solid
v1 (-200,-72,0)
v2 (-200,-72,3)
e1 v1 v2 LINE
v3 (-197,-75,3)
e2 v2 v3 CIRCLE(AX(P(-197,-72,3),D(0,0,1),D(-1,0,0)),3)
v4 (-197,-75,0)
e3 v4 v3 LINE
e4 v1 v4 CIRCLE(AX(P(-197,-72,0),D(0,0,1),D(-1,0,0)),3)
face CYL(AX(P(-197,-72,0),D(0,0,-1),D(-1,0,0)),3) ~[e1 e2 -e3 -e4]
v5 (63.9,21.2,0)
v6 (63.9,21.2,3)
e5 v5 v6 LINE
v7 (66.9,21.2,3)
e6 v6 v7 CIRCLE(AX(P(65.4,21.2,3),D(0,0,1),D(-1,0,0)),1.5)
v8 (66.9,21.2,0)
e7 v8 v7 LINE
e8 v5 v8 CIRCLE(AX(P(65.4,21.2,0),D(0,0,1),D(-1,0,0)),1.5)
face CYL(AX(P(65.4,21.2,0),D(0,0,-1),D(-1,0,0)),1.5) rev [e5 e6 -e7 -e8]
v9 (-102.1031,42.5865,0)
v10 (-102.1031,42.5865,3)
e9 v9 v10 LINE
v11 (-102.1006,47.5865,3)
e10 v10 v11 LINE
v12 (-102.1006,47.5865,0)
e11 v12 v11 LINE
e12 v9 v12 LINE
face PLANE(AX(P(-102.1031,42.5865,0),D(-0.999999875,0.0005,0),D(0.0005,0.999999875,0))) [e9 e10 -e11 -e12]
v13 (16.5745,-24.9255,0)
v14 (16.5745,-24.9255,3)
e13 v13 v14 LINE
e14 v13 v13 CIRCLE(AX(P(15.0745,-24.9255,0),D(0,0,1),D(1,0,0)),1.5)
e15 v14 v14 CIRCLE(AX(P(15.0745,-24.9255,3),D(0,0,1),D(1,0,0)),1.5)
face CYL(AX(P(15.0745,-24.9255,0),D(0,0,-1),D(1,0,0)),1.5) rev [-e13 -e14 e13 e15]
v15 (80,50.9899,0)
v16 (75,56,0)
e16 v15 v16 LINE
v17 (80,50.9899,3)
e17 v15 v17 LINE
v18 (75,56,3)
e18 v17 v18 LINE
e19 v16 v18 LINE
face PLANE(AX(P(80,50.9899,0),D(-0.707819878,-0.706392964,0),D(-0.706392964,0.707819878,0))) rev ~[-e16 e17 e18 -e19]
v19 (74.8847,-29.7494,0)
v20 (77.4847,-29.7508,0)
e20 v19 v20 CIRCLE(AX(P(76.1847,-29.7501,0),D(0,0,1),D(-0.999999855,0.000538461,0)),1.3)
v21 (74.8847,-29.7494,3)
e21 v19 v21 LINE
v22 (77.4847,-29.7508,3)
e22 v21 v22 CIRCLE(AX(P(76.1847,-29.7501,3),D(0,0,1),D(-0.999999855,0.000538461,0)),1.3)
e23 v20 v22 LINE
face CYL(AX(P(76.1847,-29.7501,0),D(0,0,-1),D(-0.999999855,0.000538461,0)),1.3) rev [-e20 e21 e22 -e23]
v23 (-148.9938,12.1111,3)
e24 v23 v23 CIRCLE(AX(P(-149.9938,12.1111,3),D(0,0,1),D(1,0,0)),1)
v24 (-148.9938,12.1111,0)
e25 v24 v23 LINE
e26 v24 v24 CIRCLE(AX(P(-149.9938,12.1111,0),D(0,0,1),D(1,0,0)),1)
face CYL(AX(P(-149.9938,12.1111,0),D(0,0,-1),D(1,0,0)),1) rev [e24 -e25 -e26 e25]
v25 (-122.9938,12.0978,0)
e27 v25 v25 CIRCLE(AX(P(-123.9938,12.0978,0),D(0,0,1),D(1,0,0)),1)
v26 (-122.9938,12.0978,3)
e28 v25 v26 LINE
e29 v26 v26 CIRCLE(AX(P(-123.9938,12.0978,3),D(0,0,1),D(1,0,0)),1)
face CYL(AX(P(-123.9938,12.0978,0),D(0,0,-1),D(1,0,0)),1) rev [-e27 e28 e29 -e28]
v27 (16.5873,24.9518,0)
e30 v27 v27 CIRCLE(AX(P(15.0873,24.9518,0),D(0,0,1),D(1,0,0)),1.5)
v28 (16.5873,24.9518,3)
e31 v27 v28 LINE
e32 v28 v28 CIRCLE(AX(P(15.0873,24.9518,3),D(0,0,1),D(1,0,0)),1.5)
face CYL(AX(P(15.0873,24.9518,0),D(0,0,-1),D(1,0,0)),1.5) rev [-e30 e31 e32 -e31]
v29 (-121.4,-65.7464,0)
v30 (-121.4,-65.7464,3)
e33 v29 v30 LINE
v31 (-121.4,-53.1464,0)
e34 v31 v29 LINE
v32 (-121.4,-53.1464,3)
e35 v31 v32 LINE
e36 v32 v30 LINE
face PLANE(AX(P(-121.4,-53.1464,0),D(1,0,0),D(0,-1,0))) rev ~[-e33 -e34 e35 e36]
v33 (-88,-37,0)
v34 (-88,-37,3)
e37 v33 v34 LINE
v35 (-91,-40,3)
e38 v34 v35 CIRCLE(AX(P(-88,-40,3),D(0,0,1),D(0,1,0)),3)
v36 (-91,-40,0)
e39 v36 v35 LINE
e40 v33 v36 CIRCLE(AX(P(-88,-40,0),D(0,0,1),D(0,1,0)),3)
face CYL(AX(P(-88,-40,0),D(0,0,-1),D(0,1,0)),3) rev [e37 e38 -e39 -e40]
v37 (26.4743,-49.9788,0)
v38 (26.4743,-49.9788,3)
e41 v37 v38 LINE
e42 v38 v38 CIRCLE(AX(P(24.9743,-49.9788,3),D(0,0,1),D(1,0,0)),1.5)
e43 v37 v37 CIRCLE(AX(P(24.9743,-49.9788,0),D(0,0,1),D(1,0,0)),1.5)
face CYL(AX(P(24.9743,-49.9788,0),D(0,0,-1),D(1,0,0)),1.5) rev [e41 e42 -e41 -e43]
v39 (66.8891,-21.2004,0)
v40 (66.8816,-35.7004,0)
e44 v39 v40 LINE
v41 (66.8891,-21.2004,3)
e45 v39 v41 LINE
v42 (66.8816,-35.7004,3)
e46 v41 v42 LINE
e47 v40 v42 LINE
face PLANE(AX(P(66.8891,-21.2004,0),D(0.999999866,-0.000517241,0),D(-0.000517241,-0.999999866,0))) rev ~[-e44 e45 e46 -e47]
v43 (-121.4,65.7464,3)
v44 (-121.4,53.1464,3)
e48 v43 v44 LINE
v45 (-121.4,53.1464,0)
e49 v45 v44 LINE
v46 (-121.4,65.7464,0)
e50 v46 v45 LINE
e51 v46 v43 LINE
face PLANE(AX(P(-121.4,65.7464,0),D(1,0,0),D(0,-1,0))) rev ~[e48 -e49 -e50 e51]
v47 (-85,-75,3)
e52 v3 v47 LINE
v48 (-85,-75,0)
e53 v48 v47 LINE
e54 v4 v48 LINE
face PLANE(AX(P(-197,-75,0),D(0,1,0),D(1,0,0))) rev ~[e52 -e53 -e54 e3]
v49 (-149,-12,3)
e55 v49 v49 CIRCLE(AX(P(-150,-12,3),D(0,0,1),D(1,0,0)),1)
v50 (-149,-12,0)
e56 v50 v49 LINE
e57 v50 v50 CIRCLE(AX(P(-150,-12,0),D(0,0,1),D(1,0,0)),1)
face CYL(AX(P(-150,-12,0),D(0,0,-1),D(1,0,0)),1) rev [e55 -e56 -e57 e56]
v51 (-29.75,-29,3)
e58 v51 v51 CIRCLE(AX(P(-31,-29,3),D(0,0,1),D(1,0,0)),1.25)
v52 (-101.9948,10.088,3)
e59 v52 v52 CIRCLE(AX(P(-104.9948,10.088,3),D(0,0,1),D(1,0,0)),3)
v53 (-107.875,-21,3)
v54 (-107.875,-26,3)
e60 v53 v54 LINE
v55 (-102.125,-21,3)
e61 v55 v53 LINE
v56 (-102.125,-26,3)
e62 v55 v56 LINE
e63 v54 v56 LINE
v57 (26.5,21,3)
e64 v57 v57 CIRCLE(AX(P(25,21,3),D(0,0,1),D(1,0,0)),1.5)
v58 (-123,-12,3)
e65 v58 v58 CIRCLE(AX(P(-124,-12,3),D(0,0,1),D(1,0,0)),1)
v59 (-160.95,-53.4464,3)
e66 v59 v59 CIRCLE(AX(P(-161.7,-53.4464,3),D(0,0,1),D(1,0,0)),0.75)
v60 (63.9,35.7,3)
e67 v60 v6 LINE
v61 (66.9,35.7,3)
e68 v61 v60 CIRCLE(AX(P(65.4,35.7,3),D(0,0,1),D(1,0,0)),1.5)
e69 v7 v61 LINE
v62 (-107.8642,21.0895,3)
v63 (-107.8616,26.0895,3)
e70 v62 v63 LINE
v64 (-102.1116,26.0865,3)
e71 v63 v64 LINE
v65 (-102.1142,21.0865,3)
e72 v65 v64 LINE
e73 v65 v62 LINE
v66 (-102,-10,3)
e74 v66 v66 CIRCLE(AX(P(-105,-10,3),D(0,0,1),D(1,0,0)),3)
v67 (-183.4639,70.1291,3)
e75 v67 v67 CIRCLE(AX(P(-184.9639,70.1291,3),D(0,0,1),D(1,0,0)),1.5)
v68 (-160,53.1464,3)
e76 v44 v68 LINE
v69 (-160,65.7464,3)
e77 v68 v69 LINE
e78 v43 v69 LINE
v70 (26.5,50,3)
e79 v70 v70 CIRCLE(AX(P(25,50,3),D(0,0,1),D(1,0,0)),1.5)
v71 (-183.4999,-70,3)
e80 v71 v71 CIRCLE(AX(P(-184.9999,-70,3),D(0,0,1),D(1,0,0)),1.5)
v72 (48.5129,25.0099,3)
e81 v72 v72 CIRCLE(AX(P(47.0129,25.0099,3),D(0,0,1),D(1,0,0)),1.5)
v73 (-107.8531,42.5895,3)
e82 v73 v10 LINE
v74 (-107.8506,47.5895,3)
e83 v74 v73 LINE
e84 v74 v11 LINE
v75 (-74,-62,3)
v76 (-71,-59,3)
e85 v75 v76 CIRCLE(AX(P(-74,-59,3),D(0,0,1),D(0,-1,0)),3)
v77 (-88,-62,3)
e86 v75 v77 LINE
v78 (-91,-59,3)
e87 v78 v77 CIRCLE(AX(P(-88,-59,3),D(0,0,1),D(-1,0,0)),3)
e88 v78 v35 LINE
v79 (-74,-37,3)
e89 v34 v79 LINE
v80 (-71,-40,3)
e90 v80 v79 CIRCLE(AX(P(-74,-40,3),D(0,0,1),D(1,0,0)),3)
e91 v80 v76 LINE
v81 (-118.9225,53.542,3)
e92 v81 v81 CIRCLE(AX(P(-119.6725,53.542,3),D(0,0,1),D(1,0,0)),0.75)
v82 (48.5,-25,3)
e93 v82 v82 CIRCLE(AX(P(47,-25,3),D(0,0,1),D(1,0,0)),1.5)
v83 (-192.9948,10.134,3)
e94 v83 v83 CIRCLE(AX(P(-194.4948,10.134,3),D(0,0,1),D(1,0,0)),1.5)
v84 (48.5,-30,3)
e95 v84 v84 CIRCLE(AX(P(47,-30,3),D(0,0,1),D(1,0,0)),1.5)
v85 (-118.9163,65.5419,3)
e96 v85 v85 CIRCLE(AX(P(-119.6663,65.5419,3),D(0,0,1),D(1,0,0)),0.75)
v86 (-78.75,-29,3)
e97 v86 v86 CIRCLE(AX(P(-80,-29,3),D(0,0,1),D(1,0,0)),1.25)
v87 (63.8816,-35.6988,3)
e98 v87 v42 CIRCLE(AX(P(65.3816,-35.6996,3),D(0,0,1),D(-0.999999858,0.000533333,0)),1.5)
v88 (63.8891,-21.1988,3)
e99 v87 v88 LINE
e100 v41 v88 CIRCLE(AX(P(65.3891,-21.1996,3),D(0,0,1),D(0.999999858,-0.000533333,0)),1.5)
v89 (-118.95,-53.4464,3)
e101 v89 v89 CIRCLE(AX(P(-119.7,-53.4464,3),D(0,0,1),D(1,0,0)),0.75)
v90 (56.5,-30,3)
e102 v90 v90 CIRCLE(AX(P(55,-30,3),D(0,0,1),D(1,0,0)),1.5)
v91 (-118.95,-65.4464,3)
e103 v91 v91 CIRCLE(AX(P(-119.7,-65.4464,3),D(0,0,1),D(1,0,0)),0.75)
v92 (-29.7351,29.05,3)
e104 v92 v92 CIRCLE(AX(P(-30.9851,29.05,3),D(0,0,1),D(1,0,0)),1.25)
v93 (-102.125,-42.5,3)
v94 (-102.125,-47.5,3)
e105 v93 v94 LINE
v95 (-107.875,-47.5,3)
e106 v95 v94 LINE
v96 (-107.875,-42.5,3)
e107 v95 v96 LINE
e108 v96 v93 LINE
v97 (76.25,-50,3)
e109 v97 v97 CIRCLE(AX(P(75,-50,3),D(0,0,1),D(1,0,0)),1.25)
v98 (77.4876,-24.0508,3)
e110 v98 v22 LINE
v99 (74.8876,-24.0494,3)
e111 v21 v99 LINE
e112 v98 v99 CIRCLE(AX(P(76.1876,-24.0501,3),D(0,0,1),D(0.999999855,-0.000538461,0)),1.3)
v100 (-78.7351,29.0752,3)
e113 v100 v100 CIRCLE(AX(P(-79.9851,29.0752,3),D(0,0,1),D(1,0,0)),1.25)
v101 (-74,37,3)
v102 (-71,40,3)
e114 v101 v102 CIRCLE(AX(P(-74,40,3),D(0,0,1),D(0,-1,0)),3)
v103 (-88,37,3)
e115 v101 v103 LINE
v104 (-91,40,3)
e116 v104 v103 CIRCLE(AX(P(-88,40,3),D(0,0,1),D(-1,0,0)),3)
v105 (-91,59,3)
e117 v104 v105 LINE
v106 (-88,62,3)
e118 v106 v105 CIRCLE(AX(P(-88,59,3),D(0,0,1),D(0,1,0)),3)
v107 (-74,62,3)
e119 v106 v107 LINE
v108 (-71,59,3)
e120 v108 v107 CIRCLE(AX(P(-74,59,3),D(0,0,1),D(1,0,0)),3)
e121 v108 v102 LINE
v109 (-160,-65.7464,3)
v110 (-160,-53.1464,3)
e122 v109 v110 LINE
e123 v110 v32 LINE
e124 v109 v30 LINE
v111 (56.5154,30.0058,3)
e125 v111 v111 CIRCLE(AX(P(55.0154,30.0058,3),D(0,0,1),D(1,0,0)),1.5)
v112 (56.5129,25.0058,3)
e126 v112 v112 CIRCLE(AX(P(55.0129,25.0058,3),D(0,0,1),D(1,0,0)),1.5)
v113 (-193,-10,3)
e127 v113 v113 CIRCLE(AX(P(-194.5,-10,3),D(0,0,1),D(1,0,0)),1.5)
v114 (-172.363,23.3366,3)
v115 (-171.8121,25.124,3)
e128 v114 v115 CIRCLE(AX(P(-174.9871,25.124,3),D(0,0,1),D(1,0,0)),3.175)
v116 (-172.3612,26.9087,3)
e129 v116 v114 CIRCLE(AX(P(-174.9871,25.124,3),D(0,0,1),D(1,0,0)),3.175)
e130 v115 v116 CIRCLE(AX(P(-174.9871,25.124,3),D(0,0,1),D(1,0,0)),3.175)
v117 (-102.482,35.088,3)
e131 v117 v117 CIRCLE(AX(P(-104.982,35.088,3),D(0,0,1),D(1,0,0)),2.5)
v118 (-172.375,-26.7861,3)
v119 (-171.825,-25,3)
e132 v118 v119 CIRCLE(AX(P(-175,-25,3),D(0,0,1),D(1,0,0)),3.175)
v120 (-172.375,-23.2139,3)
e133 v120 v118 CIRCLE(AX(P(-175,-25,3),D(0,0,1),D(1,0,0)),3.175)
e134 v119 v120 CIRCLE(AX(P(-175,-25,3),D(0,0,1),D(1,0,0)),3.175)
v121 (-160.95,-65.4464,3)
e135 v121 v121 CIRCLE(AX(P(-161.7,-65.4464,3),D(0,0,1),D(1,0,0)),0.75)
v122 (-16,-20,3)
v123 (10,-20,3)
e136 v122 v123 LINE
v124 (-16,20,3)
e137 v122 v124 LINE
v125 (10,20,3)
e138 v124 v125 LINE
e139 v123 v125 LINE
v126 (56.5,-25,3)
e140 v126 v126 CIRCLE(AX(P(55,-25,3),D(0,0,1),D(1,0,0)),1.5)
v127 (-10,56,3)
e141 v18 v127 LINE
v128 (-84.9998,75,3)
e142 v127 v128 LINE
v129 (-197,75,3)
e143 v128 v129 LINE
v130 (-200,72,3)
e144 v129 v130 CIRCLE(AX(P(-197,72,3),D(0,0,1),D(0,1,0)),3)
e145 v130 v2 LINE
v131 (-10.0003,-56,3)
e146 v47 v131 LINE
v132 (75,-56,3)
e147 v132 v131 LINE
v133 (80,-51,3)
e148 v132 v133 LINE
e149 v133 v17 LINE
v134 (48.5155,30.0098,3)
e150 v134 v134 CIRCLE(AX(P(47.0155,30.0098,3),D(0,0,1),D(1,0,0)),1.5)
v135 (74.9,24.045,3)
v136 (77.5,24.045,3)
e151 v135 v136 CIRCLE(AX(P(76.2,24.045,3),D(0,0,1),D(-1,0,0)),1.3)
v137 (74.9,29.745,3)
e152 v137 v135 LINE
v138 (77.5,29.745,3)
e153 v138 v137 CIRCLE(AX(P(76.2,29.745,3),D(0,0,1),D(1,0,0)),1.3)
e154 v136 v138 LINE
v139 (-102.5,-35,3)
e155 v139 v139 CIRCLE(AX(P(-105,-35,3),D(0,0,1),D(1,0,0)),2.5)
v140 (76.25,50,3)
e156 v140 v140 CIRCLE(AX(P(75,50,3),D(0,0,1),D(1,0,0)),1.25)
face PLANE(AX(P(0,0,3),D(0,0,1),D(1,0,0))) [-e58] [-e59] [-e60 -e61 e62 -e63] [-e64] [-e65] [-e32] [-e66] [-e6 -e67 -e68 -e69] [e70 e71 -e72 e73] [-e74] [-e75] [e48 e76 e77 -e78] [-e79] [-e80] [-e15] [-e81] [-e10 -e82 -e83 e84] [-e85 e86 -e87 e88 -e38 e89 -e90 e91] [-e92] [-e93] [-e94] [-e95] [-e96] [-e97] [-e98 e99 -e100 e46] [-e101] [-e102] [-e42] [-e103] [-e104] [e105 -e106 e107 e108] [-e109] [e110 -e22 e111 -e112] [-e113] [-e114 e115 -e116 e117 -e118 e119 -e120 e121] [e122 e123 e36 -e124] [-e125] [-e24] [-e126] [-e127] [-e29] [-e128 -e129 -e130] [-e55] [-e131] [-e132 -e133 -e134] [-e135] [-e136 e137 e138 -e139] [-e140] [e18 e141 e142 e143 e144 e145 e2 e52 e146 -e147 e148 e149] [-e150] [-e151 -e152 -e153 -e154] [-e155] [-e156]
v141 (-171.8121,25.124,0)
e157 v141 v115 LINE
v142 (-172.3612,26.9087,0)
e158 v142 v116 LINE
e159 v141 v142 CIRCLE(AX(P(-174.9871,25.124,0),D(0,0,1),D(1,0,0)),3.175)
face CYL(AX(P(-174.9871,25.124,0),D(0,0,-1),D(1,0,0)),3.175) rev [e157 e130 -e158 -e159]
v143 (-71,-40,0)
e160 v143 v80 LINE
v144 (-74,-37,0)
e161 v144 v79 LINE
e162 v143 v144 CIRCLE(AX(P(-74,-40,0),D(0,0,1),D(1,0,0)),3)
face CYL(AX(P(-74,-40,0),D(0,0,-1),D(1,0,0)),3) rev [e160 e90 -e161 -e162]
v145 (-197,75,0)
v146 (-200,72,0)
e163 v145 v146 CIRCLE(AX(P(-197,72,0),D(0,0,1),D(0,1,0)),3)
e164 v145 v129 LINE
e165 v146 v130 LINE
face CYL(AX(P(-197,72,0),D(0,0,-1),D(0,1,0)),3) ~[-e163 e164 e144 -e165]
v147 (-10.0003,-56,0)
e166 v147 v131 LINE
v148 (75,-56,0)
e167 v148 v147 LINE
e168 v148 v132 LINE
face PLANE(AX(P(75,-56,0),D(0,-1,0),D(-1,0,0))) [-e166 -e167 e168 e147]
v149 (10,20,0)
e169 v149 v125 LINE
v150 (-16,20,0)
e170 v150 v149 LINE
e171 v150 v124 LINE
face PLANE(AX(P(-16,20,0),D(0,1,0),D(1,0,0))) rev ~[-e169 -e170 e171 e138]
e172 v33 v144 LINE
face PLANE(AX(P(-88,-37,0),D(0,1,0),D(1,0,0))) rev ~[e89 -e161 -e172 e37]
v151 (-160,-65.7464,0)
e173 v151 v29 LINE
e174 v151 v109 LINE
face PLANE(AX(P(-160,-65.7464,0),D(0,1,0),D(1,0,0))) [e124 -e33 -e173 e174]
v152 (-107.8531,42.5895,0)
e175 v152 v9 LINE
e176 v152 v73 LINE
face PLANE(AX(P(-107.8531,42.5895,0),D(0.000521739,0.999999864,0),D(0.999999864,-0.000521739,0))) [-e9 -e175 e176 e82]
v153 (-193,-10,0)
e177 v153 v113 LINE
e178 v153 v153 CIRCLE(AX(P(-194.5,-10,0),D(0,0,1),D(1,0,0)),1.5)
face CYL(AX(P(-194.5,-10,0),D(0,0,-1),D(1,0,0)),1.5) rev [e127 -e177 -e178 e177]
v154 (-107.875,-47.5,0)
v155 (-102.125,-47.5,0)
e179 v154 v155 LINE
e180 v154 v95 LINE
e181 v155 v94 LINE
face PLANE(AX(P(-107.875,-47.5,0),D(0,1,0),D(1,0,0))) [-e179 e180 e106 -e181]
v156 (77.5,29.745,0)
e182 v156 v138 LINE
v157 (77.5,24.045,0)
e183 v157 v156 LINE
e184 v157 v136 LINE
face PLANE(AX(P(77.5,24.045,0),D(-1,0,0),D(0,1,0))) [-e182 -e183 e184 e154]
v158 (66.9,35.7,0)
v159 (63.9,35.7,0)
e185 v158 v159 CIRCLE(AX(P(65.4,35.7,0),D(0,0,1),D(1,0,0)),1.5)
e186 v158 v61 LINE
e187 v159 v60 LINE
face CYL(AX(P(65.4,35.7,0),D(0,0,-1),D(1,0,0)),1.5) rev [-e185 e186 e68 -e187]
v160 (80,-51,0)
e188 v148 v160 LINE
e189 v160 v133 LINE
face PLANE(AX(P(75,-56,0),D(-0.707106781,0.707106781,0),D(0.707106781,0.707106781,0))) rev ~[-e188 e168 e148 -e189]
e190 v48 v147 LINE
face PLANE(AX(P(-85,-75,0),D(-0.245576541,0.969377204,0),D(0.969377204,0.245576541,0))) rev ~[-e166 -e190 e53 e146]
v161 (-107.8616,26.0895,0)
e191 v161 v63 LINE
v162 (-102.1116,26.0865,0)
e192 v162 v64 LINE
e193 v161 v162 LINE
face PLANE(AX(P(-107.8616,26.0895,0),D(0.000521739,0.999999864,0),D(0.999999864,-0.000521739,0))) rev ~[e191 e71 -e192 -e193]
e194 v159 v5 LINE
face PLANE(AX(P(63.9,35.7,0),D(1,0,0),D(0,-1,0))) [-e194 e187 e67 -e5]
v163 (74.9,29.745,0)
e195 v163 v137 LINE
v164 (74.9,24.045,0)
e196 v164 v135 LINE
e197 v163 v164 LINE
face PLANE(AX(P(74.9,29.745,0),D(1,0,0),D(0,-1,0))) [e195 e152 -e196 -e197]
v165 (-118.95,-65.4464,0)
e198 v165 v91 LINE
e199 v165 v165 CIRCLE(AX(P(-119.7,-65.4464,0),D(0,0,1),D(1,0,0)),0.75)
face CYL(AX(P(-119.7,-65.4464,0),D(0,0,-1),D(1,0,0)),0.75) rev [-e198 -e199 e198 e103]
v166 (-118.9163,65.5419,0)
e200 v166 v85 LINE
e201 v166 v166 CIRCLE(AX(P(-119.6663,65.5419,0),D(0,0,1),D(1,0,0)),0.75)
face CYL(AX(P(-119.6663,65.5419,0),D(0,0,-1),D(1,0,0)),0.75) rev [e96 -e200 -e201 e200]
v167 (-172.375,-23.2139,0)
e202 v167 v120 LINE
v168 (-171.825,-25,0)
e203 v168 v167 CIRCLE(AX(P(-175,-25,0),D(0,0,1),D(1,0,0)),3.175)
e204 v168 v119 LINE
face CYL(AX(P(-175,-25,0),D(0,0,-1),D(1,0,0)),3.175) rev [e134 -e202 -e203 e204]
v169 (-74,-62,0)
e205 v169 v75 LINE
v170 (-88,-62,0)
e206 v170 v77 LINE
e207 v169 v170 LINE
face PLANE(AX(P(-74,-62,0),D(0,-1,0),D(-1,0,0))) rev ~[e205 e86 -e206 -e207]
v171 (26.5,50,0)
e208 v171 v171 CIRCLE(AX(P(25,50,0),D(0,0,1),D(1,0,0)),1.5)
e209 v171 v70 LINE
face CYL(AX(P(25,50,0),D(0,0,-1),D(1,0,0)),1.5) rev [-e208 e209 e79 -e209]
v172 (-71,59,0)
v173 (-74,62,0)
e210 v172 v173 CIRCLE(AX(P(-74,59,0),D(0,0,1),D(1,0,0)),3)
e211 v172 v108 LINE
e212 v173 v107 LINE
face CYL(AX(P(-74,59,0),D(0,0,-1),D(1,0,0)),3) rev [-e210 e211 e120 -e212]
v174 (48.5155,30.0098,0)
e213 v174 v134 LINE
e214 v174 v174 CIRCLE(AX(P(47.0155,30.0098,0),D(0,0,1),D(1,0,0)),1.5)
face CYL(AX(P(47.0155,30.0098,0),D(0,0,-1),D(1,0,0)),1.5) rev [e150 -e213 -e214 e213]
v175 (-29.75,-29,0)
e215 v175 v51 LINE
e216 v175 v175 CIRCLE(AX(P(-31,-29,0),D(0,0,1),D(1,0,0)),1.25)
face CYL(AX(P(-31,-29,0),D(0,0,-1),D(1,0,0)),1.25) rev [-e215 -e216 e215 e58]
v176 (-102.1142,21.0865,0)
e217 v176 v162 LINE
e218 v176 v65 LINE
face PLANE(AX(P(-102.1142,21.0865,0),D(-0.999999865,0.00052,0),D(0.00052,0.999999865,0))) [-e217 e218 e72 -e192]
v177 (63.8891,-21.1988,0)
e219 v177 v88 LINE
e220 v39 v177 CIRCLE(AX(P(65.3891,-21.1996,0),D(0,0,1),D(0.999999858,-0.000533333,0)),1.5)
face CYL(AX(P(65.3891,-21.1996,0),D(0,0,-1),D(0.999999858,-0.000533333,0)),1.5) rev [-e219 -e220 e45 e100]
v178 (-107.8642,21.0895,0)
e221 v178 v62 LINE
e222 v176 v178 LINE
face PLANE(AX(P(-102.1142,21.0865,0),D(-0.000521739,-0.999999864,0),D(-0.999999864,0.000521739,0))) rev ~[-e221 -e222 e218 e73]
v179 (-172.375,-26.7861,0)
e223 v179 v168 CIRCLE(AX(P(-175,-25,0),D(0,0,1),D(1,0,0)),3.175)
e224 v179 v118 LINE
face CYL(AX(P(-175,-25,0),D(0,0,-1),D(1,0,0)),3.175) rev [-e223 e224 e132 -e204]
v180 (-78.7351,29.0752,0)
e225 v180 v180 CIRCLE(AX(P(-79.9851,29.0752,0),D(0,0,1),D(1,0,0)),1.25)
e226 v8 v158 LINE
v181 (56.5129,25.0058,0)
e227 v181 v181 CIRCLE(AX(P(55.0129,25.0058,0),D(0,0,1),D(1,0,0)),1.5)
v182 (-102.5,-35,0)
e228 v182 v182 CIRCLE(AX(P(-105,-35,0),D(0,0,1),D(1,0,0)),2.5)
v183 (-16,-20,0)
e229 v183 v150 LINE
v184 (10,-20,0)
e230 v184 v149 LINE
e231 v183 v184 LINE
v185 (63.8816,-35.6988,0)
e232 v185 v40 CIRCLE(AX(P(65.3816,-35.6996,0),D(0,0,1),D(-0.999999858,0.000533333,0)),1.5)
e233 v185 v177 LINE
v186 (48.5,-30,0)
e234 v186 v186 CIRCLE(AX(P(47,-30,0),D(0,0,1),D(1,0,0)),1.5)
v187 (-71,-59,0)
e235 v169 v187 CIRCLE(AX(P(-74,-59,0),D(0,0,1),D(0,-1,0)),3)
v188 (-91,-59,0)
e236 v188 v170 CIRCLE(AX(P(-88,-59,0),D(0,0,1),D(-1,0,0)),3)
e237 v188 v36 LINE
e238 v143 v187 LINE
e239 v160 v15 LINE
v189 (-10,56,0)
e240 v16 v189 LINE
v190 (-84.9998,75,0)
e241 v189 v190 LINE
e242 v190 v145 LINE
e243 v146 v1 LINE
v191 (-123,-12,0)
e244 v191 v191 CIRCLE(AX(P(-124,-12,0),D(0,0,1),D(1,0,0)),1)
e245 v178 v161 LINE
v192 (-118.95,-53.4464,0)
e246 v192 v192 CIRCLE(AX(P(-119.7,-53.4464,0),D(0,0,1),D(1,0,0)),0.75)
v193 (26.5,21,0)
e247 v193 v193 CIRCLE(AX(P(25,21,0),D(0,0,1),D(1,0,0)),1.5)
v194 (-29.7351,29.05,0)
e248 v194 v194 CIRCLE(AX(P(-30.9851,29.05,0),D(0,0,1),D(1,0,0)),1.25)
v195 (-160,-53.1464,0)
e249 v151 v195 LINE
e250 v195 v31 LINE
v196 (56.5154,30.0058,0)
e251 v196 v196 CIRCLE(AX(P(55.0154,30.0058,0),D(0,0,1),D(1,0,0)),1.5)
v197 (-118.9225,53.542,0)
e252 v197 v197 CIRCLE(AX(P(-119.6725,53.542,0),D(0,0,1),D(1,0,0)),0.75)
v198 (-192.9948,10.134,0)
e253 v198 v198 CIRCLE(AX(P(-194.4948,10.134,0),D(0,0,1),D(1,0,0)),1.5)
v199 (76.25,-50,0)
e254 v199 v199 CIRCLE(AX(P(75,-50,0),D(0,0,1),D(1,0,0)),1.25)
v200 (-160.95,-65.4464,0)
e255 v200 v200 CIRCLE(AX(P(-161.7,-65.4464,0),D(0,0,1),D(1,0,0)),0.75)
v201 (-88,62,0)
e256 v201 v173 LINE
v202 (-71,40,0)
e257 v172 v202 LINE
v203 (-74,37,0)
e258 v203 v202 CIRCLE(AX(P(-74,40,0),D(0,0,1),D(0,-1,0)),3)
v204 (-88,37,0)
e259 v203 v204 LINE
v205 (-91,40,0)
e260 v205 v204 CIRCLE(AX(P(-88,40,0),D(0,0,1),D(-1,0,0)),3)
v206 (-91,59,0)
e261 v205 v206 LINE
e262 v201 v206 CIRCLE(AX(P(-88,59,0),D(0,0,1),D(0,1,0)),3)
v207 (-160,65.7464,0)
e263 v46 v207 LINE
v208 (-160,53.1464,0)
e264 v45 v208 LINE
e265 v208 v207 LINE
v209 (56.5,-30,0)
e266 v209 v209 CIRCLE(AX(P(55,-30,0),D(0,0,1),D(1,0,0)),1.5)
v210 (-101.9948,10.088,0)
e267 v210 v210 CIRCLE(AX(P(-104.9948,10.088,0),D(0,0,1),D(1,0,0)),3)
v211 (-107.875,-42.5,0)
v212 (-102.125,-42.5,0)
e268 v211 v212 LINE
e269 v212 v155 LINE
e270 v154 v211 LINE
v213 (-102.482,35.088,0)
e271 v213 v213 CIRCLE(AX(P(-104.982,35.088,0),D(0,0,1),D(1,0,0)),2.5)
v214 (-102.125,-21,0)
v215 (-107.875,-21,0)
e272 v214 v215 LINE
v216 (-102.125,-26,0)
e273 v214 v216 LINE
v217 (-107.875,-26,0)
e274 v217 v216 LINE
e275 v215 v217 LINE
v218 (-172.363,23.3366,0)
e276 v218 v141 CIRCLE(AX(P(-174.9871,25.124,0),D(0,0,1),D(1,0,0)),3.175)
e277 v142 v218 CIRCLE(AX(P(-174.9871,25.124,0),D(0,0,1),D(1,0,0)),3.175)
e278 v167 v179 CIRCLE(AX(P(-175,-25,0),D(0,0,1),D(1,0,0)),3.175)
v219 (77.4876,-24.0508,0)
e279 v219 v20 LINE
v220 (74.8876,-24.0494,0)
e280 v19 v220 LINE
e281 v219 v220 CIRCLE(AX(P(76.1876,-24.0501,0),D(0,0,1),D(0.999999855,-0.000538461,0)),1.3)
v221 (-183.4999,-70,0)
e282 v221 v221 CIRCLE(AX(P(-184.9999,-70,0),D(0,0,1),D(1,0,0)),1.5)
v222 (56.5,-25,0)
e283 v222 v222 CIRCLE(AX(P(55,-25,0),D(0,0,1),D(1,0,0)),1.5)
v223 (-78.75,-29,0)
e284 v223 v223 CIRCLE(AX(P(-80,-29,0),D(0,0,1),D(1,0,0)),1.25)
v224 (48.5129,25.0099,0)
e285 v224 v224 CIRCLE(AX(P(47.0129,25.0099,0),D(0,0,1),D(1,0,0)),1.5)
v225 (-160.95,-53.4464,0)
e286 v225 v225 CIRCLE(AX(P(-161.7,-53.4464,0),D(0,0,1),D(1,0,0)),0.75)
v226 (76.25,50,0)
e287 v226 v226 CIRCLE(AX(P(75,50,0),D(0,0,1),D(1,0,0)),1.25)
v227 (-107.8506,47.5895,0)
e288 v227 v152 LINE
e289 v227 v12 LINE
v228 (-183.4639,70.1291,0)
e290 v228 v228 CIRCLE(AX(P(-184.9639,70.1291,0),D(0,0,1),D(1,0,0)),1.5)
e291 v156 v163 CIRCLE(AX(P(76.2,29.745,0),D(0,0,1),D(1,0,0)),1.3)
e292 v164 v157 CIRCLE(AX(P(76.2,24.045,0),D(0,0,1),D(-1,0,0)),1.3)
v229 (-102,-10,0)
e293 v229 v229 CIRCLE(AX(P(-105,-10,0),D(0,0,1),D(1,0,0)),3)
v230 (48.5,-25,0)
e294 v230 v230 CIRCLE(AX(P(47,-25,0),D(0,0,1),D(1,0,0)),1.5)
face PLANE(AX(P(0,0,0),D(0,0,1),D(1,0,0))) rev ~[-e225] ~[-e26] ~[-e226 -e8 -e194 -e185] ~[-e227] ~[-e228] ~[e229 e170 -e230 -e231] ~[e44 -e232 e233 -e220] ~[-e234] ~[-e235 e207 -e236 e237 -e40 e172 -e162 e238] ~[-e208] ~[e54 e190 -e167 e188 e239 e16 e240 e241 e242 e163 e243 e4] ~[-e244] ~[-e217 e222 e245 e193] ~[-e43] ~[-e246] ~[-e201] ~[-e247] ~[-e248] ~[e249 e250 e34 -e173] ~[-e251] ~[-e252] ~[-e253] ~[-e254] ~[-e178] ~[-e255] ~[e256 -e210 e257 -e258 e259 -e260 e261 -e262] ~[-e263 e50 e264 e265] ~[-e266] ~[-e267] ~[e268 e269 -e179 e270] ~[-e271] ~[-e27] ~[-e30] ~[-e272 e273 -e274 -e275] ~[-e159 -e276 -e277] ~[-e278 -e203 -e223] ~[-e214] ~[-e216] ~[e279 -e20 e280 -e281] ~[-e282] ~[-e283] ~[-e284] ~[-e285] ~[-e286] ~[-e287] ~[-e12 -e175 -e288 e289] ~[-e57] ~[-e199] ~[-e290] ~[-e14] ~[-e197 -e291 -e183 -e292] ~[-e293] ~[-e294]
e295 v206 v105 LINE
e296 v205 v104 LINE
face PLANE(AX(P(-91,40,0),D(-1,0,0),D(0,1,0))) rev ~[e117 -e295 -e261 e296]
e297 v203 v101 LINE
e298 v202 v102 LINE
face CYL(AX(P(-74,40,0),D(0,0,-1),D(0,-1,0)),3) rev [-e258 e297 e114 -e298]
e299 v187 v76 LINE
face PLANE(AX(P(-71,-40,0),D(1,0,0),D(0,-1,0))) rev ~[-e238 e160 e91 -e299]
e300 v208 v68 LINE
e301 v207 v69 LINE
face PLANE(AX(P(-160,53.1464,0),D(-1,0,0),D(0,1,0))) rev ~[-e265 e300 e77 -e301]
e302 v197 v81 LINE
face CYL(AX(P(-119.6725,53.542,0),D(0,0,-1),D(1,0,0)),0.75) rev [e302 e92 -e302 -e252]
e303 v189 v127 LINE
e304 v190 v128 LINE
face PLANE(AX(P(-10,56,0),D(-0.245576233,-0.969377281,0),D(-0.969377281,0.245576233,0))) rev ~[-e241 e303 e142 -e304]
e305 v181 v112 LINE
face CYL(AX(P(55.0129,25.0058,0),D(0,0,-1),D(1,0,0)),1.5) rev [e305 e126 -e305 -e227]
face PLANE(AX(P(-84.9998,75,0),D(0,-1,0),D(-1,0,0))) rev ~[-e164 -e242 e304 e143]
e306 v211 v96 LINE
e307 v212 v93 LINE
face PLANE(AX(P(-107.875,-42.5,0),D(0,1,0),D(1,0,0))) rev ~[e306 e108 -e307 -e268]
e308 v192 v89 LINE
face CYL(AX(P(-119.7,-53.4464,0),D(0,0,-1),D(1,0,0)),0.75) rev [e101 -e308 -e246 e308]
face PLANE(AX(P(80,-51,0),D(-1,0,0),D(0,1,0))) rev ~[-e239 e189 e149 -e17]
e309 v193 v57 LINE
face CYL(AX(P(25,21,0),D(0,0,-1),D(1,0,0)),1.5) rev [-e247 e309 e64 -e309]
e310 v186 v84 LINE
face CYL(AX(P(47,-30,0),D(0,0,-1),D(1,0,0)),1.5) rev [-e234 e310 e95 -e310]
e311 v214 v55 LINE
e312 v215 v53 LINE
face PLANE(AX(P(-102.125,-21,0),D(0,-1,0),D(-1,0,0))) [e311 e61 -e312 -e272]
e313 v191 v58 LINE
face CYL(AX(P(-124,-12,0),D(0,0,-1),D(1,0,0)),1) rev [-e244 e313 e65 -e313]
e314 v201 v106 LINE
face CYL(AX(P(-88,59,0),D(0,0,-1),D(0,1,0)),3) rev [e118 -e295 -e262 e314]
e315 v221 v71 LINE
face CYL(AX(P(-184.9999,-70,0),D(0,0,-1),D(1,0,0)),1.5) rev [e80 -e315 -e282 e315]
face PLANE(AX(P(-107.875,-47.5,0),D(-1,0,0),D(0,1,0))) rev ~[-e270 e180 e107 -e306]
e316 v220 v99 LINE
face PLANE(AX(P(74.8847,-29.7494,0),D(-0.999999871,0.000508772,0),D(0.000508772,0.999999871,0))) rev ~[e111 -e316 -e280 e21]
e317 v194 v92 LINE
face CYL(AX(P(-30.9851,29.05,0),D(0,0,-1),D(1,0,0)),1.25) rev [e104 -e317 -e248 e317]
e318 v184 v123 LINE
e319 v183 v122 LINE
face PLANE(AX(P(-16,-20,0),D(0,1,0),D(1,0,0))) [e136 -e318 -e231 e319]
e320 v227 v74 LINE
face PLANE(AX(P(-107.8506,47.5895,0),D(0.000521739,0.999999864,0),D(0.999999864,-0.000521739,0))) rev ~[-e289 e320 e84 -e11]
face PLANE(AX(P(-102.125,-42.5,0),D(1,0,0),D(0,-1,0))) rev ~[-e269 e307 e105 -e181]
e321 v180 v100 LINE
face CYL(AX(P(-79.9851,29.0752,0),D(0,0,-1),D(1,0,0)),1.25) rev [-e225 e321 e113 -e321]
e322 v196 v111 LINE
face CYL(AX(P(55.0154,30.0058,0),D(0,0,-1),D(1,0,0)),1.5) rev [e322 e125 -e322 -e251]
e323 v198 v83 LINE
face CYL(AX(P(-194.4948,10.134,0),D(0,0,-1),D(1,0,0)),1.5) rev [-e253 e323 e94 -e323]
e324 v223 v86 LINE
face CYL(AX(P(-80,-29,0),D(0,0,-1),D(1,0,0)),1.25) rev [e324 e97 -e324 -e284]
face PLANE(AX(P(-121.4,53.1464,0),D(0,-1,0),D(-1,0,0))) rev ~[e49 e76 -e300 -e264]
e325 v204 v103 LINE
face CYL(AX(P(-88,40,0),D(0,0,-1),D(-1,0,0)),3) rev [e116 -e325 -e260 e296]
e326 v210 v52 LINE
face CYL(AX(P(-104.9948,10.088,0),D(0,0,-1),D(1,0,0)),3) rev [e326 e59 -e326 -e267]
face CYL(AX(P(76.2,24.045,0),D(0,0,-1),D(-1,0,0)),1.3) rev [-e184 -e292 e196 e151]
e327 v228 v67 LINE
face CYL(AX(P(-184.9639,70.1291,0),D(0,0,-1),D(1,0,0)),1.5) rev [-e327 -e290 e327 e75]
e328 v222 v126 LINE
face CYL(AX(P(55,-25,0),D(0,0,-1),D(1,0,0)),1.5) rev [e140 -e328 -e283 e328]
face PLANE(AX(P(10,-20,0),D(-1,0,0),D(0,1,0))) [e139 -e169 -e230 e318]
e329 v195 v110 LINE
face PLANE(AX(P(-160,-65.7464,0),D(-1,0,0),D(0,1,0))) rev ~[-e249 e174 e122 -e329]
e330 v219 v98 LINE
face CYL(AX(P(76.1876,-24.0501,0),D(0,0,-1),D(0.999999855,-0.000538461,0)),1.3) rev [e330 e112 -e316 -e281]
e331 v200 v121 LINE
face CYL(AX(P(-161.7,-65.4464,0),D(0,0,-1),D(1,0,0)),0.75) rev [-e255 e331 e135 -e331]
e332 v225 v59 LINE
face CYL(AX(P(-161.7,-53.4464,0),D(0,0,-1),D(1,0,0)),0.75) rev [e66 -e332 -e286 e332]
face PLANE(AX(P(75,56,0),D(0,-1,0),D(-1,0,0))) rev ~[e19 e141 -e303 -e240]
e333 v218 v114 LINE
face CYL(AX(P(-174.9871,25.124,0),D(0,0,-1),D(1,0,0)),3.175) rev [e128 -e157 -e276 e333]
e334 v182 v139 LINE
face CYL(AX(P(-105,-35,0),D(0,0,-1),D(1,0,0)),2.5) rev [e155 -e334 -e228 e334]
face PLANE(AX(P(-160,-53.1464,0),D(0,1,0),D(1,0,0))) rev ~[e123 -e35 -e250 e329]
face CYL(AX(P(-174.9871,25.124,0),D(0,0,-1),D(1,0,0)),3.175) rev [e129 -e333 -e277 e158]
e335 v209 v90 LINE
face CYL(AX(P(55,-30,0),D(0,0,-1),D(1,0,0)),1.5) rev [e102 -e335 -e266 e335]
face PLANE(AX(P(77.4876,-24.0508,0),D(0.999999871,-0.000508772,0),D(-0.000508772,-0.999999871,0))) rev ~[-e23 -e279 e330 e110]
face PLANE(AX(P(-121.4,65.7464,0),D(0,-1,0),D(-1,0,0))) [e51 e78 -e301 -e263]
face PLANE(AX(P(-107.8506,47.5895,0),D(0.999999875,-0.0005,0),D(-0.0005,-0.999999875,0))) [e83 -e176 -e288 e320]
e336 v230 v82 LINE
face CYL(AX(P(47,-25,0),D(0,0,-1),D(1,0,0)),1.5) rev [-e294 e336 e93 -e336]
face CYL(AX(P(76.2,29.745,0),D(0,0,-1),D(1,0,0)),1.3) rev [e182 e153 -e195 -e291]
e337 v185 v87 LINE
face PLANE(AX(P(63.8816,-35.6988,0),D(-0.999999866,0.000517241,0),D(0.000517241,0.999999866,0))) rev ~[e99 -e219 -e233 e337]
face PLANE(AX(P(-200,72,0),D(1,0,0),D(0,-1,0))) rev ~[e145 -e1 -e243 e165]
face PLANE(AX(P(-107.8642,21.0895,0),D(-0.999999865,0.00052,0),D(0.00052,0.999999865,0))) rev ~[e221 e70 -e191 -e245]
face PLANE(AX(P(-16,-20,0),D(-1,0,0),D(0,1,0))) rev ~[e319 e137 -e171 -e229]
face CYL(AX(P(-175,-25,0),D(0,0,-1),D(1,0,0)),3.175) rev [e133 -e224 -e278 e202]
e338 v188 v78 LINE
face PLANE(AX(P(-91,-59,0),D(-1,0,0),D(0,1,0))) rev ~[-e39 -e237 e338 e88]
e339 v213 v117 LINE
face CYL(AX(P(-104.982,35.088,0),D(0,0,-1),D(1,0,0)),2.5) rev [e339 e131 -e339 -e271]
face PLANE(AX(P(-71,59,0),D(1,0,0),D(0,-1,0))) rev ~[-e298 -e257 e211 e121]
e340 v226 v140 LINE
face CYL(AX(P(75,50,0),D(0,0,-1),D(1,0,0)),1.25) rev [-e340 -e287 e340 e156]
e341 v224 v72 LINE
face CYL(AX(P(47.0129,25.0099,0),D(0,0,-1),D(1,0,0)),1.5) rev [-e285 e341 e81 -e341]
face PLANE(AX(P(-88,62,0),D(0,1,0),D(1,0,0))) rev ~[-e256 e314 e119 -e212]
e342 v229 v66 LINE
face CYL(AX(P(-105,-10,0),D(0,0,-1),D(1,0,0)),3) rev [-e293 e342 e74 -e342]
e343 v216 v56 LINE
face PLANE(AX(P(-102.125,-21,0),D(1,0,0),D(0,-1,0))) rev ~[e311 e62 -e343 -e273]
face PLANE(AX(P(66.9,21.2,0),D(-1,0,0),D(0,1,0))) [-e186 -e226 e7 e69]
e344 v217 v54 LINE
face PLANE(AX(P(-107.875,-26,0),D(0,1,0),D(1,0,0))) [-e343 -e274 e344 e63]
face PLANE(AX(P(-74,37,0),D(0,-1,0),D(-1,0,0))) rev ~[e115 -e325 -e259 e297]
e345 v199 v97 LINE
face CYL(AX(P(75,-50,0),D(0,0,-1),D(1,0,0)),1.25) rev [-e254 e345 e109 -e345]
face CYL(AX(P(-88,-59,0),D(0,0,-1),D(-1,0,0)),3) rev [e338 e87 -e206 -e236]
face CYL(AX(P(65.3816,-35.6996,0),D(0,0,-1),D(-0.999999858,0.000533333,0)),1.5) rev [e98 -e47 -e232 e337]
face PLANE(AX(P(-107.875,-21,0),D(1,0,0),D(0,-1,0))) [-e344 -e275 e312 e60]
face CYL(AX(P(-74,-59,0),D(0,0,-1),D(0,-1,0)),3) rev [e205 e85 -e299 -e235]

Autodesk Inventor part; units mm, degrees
ref_plane "YZ Plane" through (0, 0, 0) normal (1, 0, 0) x (0, 1, 0)
ref_plane "XZ Plane" through (0, 0, 0) normal (0, 1, 0) x (-1, 0, 0)
ref_plane "XY Plane" through (0, 0, 0) normal (0, 0, 1) x (1, 0, 0)
sketch "Boceto1" plane through (0, 0, 0) normal (0, 0, 1) x (1, 0, 0)
  line L0 (-200, -75) -> (-85, -75)
  line L1 (-85, -75) -> (-10.0003, -56)
  line L2 (-200, 75) -> (-200, -75)
  line L3 (-84.9998, 75) -> (-200, 75)
  line L4 (75, -56) -> (-10.0003, -56)
  line L5 (80, -51) -> (80, 50.9899)
  line L6 (75, -56) -> (80, -51)
  line L7 (80, 50.9899) -> (75, 56)
  line L8 (75, 56) -> (-10, 56)
  arc A0 (-200, -72) -> (-197, -75) centre (-197, -72) ccw
  arc A1 (-197, 75) -> (-200, 72) centre (-197, 72) ccw
  line L9 (-16, 20) -> (10, 20)
  line L10 (10, -20) -> (10, 20)
  line L11 (-16, -20) -> (10, -20)
  line L12 (-16, -20) -> (-16, 20)
  line L13 (-160, -53.1464) -> (-121.4, -53.1464)
  line L14 (-121.4, -53.1464) -> (-121.4, -65.7464)
  line L15 (-160, -65.7464) -> (-121.4, -65.7464)
  line L16 (-160, -65.7464) -> (-160, -53.1464)
  line L17 (-88, -37) -> (-74, -37)
  line L18 (-91, -59) -> (-91, -40)
  line L19 (-71, -40) -> (-71, -59)
  line L20 (-74, -62) -> (-88, -62)
  line L21 (-121.4, 65.7464) -> (-160, 65.7464)
  line L22 (-160, 53.1464) -> (-160, 65.7464)
  line L23 (-121.4, 53.1464) -> (-160, 53.1464)
  line L24 (-121.4, 65.7464) -> (-121.4, 53.1464)
  line L25 (-88, 62) -> (-74, 62)
  line L26 (-91, 40) -> (-91, 59)
  line L27 (-74, 37) -> (-88, 37)
  line L28 (-71, 59) -> (-71, 40)
  arc A2 (-91, -59) -> (-88, -62) centre (-88, -59) ccw
  arc A3 (-74, -62) -> (-71, -59) centre (-74, -59) ccw
  arc A4 (-71, -40) -> (-74, -37) centre (-74, -40) ccw
  arc A5 (-88, -37) -> (-91, -40) centre (-88, -40) ccw
  arc A6 (-74, 37) -> (-71, 40) centre (-74, 40) ccw
  arc A7 (-91, 40) -> (-88, 37) centre (-88, 40) ccw
  arc A8 (-88, 62) -> (-91, 59) centre (-88, 59) ccw
  arc A9 (-71, 59) -> (-74, 62) centre (-74, 59) ccw
  line L29 (-107.875, -47.5) -> (-102.125, -47.5)
  line L30 (-102.125, -42.5) -> (-102.125, -47.5)
  line L31 (-107.875, -47.5) -> (-107.875, -42.5)
  line L32 (-107.875, -42.5) -> (-102.125, -42.5)
  circle A10 centre (-105, -35) radius 2.5
  line L33 (-107.875, -26) -> (-102.125, -26)
  line L34 (-102.125, -21) -> (-102.125, -26)
  line L35 (-102.125, -21) -> (-107.875, -21)
  line L36 (-107.875, -21) -> (-107.875, -26)
  circle A11 centre (-105, -10) radius 3
  circle A12 centre (-124, -12) radius 1
  circle A13 centre (-150, -12) radius 1
  line L37 (-172.375, -23.2139) -> (-172.375, -26.7861)
  circle A14 centre (-175, -25) radius 3.175
  circle A15 centre (-119.7, -53.4464) radius 0.75
  circle A16 centre (-119.7, -65.4464) radius 0.75
  circle A17 centre (-161.7, -53.4464) radius 0.75
  circle A18 centre (-161.7, -65.4464) radius 0.75
  circle A19 centre (-184.9999, -70) radius 1.5
  circle A20 centre (-194.5, -10) radius 1.5
  circle A21 centre (-80, -29) radius 1.25
  circle A22 centre (-31, -29) radius 1.25
  circle A23 centre (24.9743, -49.9788) radius 1.5
  circle A24 centre (55, -30) radius 1.5
  circle A25 centre (55, -25) radius 1.5
  circle A26 centre (47, -25) radius 1.5
  circle A27 centre (47, -30) radius 1.5
  circle A28 centre (15.0745, -24.9255) radius 1.5
  line L38 (80, -0.0035) -> (-200, 0.0684) construction
  line L39 (-107.8506, 47.5895) -> (-102.1006, 47.5865)
  line L40 (-102.1031, 42.5865) -> (-102.1006, 47.5865)
  line L41 (-107.8506, 47.5895) -> (-107.8531, 42.5895)
  line L42 (-107.8531, 42.5895) -> (-102.1031, 42.5865)
  circle A29 centre (-104.982, 35.088) radius 2.5
  line L43 (-107.8616, 26.0895) -> (-102.1116, 26.0865)
  line L44 (-102.1142, 21.0865) -> (-102.1116, 26.0865)
  line L45 (-102.1142, 21.0865) -> (-107.8642, 21.0895)
  line L46 (-107.8642, 21.0895) -> (-107.8616, 26.0895)
  circle A30 centre (-104.9948, 10.088) radius 3
  circle A31 centre (-123.9938, 12.0978) radius 1
  circle A32 centre (-149.9938, 12.1111) radius 1
  line L47 (-172.363, 23.3366) -> (-172.3612, 26.9087)
  circle A33 centre (-174.9871, 25.124) radius 3.175
  circle A34 centre (-119.6725, 53.542) radius 0.75
  circle A35 centre (-119.6663, 65.5419) radius 0.75
  circle A36 centre (-184.9639, 70.1291) radius 1.5
  circle A37 centre (-194.4948, 10.134) radius 1.5
  circle A38 centre (-79.9851, 29.0752) radius 1.25
  circle A39 centre (-30.9851, 29.05) radius 1.25
  circle A40 centre (25, 50) radius 1.5
  circle A41 centre (55.0154, 30.0058) radius 1.5
  circle A42 centre (55.0129, 25.0058) radius 1.5
  circle A43 centre (47.0129, 25.0099) radius 1.5
  circle A44 centre (47.0155, 30.0098) radius 1.5
  circle A45 centre (15.0873, 24.9518) radius 1.5
  line L48 (-10, 56) -> (-85, 75.0001)
  line L49 (-200, 75) -> (80, 75)
  line L50 (80, 75) -> (80, -75)
  line L51 (80, -75) -> (-200, -75)
  line L52 (-200, -75) -> (-200, 75)
  line L53 (65.4, 19.7) -> (65.4, 37.2) construction
  line L54 (66.9, 21.2) -> (66.9, 35.7)
  line L55 (63.9, 35.7) -> (63.9, 21.2)
  arc A46 (63.9, 21.2) -> (66.9, 21.2) centre (65.4, 21.2) ccw
  arc A47 (66.9, 35.7) -> (63.9, 35.7) centre (65.4, 35.7) ccw
  line L56 (76.2, -22.755) -> (76.2, 22.745) construction
  line L57 (76.2, 22.745) -> (76.2, 31.045) construction
  line L58 (77.5, 24.045) -> (77.5, 29.745)
  line L59 (74.9, 29.745) -> (74.9, 24.045)
  arc A48 (74.9, 24.045) -> (77.5, 24.045) centre (76.2, 24.045) ccw
  arc A49 (77.5, 29.745) -> (74.9, 29.745) centre (76.2, 29.745) ccw
  line L60 (65.3899, -19.6996) -> (65.3809, -37.1996) construction
  line L61 (66.8891, -21.2004) -> (66.8816, -35.7004)
  line L62 (63.8816, -35.6988) -> (63.8891, -21.1988)
  arc A50 (66.8891, -21.2004) -> (63.8891, -21.1988) centre (65.3891, -21.1996) ccw
  arc A51 (63.8816, -35.6988) -> (66.8816, -35.7004) centre (65.3816, -35.6996) ccw
  line L63 (76.1883, -22.7501) -> (76.184, -31.0501) construction
  line L64 (77.4876, -24.0508) -> (77.4847, -29.7508)
  line L65 (74.8847, -29.7494) -> (74.8876, -24.0494)
  arc A52 (77.4876, -24.0508) -> (74.8876, -24.0494) centre (76.1876, -24.0501) ccw
  arc A53 (74.8847, -29.7494) -> (77.4847, -29.7508) centre (76.1847, -29.7501) ccw
  circle A54 centre (75, -50) radius 1.25
  circle A55 centre (75, 50) radius 1.25
  circle A56 centre (25, 21) radius 1.5
  point P0 (-91, -37)
  point P1 (-71, 37)
  point P2 (-91, -62)
  point P3 (-121.4, 62)
  point P4 (80, -51)
  point P5 (-85, -75)
  point P6 (65.4, 28.45)
  point P7 (76.2, -0.005)
  point P8 (80, -0.005)
  point P9 (76.2, 26.895)
  point P10 (65.3854, -28.4496)
  point P11 (76.1862, -26.9001)
  dimension "d24" = 3
  dimension "d25" = 3
  dimension "d26" = 3
  dimension "d28" = 17.5
  dimension "d29" = 18.8
  dimension "d30" = 3
  dimension "d32" = 45.5
  dimension "d33" = 8.3
  dimension "d34" = 2.6
  dimension "d35" = 3
  dimension "d36" = 35
  dimension "d37" = 2.5
  dimension "d38" = 8
extrude "Extrusión1" add sketch "Boceto1" along normal blind 3 contours A0 L2 A1 L3 L48 L8 L7 L5 L6 L4 L1 L0
properties part number "Base3" material "Aluminio 6061"
